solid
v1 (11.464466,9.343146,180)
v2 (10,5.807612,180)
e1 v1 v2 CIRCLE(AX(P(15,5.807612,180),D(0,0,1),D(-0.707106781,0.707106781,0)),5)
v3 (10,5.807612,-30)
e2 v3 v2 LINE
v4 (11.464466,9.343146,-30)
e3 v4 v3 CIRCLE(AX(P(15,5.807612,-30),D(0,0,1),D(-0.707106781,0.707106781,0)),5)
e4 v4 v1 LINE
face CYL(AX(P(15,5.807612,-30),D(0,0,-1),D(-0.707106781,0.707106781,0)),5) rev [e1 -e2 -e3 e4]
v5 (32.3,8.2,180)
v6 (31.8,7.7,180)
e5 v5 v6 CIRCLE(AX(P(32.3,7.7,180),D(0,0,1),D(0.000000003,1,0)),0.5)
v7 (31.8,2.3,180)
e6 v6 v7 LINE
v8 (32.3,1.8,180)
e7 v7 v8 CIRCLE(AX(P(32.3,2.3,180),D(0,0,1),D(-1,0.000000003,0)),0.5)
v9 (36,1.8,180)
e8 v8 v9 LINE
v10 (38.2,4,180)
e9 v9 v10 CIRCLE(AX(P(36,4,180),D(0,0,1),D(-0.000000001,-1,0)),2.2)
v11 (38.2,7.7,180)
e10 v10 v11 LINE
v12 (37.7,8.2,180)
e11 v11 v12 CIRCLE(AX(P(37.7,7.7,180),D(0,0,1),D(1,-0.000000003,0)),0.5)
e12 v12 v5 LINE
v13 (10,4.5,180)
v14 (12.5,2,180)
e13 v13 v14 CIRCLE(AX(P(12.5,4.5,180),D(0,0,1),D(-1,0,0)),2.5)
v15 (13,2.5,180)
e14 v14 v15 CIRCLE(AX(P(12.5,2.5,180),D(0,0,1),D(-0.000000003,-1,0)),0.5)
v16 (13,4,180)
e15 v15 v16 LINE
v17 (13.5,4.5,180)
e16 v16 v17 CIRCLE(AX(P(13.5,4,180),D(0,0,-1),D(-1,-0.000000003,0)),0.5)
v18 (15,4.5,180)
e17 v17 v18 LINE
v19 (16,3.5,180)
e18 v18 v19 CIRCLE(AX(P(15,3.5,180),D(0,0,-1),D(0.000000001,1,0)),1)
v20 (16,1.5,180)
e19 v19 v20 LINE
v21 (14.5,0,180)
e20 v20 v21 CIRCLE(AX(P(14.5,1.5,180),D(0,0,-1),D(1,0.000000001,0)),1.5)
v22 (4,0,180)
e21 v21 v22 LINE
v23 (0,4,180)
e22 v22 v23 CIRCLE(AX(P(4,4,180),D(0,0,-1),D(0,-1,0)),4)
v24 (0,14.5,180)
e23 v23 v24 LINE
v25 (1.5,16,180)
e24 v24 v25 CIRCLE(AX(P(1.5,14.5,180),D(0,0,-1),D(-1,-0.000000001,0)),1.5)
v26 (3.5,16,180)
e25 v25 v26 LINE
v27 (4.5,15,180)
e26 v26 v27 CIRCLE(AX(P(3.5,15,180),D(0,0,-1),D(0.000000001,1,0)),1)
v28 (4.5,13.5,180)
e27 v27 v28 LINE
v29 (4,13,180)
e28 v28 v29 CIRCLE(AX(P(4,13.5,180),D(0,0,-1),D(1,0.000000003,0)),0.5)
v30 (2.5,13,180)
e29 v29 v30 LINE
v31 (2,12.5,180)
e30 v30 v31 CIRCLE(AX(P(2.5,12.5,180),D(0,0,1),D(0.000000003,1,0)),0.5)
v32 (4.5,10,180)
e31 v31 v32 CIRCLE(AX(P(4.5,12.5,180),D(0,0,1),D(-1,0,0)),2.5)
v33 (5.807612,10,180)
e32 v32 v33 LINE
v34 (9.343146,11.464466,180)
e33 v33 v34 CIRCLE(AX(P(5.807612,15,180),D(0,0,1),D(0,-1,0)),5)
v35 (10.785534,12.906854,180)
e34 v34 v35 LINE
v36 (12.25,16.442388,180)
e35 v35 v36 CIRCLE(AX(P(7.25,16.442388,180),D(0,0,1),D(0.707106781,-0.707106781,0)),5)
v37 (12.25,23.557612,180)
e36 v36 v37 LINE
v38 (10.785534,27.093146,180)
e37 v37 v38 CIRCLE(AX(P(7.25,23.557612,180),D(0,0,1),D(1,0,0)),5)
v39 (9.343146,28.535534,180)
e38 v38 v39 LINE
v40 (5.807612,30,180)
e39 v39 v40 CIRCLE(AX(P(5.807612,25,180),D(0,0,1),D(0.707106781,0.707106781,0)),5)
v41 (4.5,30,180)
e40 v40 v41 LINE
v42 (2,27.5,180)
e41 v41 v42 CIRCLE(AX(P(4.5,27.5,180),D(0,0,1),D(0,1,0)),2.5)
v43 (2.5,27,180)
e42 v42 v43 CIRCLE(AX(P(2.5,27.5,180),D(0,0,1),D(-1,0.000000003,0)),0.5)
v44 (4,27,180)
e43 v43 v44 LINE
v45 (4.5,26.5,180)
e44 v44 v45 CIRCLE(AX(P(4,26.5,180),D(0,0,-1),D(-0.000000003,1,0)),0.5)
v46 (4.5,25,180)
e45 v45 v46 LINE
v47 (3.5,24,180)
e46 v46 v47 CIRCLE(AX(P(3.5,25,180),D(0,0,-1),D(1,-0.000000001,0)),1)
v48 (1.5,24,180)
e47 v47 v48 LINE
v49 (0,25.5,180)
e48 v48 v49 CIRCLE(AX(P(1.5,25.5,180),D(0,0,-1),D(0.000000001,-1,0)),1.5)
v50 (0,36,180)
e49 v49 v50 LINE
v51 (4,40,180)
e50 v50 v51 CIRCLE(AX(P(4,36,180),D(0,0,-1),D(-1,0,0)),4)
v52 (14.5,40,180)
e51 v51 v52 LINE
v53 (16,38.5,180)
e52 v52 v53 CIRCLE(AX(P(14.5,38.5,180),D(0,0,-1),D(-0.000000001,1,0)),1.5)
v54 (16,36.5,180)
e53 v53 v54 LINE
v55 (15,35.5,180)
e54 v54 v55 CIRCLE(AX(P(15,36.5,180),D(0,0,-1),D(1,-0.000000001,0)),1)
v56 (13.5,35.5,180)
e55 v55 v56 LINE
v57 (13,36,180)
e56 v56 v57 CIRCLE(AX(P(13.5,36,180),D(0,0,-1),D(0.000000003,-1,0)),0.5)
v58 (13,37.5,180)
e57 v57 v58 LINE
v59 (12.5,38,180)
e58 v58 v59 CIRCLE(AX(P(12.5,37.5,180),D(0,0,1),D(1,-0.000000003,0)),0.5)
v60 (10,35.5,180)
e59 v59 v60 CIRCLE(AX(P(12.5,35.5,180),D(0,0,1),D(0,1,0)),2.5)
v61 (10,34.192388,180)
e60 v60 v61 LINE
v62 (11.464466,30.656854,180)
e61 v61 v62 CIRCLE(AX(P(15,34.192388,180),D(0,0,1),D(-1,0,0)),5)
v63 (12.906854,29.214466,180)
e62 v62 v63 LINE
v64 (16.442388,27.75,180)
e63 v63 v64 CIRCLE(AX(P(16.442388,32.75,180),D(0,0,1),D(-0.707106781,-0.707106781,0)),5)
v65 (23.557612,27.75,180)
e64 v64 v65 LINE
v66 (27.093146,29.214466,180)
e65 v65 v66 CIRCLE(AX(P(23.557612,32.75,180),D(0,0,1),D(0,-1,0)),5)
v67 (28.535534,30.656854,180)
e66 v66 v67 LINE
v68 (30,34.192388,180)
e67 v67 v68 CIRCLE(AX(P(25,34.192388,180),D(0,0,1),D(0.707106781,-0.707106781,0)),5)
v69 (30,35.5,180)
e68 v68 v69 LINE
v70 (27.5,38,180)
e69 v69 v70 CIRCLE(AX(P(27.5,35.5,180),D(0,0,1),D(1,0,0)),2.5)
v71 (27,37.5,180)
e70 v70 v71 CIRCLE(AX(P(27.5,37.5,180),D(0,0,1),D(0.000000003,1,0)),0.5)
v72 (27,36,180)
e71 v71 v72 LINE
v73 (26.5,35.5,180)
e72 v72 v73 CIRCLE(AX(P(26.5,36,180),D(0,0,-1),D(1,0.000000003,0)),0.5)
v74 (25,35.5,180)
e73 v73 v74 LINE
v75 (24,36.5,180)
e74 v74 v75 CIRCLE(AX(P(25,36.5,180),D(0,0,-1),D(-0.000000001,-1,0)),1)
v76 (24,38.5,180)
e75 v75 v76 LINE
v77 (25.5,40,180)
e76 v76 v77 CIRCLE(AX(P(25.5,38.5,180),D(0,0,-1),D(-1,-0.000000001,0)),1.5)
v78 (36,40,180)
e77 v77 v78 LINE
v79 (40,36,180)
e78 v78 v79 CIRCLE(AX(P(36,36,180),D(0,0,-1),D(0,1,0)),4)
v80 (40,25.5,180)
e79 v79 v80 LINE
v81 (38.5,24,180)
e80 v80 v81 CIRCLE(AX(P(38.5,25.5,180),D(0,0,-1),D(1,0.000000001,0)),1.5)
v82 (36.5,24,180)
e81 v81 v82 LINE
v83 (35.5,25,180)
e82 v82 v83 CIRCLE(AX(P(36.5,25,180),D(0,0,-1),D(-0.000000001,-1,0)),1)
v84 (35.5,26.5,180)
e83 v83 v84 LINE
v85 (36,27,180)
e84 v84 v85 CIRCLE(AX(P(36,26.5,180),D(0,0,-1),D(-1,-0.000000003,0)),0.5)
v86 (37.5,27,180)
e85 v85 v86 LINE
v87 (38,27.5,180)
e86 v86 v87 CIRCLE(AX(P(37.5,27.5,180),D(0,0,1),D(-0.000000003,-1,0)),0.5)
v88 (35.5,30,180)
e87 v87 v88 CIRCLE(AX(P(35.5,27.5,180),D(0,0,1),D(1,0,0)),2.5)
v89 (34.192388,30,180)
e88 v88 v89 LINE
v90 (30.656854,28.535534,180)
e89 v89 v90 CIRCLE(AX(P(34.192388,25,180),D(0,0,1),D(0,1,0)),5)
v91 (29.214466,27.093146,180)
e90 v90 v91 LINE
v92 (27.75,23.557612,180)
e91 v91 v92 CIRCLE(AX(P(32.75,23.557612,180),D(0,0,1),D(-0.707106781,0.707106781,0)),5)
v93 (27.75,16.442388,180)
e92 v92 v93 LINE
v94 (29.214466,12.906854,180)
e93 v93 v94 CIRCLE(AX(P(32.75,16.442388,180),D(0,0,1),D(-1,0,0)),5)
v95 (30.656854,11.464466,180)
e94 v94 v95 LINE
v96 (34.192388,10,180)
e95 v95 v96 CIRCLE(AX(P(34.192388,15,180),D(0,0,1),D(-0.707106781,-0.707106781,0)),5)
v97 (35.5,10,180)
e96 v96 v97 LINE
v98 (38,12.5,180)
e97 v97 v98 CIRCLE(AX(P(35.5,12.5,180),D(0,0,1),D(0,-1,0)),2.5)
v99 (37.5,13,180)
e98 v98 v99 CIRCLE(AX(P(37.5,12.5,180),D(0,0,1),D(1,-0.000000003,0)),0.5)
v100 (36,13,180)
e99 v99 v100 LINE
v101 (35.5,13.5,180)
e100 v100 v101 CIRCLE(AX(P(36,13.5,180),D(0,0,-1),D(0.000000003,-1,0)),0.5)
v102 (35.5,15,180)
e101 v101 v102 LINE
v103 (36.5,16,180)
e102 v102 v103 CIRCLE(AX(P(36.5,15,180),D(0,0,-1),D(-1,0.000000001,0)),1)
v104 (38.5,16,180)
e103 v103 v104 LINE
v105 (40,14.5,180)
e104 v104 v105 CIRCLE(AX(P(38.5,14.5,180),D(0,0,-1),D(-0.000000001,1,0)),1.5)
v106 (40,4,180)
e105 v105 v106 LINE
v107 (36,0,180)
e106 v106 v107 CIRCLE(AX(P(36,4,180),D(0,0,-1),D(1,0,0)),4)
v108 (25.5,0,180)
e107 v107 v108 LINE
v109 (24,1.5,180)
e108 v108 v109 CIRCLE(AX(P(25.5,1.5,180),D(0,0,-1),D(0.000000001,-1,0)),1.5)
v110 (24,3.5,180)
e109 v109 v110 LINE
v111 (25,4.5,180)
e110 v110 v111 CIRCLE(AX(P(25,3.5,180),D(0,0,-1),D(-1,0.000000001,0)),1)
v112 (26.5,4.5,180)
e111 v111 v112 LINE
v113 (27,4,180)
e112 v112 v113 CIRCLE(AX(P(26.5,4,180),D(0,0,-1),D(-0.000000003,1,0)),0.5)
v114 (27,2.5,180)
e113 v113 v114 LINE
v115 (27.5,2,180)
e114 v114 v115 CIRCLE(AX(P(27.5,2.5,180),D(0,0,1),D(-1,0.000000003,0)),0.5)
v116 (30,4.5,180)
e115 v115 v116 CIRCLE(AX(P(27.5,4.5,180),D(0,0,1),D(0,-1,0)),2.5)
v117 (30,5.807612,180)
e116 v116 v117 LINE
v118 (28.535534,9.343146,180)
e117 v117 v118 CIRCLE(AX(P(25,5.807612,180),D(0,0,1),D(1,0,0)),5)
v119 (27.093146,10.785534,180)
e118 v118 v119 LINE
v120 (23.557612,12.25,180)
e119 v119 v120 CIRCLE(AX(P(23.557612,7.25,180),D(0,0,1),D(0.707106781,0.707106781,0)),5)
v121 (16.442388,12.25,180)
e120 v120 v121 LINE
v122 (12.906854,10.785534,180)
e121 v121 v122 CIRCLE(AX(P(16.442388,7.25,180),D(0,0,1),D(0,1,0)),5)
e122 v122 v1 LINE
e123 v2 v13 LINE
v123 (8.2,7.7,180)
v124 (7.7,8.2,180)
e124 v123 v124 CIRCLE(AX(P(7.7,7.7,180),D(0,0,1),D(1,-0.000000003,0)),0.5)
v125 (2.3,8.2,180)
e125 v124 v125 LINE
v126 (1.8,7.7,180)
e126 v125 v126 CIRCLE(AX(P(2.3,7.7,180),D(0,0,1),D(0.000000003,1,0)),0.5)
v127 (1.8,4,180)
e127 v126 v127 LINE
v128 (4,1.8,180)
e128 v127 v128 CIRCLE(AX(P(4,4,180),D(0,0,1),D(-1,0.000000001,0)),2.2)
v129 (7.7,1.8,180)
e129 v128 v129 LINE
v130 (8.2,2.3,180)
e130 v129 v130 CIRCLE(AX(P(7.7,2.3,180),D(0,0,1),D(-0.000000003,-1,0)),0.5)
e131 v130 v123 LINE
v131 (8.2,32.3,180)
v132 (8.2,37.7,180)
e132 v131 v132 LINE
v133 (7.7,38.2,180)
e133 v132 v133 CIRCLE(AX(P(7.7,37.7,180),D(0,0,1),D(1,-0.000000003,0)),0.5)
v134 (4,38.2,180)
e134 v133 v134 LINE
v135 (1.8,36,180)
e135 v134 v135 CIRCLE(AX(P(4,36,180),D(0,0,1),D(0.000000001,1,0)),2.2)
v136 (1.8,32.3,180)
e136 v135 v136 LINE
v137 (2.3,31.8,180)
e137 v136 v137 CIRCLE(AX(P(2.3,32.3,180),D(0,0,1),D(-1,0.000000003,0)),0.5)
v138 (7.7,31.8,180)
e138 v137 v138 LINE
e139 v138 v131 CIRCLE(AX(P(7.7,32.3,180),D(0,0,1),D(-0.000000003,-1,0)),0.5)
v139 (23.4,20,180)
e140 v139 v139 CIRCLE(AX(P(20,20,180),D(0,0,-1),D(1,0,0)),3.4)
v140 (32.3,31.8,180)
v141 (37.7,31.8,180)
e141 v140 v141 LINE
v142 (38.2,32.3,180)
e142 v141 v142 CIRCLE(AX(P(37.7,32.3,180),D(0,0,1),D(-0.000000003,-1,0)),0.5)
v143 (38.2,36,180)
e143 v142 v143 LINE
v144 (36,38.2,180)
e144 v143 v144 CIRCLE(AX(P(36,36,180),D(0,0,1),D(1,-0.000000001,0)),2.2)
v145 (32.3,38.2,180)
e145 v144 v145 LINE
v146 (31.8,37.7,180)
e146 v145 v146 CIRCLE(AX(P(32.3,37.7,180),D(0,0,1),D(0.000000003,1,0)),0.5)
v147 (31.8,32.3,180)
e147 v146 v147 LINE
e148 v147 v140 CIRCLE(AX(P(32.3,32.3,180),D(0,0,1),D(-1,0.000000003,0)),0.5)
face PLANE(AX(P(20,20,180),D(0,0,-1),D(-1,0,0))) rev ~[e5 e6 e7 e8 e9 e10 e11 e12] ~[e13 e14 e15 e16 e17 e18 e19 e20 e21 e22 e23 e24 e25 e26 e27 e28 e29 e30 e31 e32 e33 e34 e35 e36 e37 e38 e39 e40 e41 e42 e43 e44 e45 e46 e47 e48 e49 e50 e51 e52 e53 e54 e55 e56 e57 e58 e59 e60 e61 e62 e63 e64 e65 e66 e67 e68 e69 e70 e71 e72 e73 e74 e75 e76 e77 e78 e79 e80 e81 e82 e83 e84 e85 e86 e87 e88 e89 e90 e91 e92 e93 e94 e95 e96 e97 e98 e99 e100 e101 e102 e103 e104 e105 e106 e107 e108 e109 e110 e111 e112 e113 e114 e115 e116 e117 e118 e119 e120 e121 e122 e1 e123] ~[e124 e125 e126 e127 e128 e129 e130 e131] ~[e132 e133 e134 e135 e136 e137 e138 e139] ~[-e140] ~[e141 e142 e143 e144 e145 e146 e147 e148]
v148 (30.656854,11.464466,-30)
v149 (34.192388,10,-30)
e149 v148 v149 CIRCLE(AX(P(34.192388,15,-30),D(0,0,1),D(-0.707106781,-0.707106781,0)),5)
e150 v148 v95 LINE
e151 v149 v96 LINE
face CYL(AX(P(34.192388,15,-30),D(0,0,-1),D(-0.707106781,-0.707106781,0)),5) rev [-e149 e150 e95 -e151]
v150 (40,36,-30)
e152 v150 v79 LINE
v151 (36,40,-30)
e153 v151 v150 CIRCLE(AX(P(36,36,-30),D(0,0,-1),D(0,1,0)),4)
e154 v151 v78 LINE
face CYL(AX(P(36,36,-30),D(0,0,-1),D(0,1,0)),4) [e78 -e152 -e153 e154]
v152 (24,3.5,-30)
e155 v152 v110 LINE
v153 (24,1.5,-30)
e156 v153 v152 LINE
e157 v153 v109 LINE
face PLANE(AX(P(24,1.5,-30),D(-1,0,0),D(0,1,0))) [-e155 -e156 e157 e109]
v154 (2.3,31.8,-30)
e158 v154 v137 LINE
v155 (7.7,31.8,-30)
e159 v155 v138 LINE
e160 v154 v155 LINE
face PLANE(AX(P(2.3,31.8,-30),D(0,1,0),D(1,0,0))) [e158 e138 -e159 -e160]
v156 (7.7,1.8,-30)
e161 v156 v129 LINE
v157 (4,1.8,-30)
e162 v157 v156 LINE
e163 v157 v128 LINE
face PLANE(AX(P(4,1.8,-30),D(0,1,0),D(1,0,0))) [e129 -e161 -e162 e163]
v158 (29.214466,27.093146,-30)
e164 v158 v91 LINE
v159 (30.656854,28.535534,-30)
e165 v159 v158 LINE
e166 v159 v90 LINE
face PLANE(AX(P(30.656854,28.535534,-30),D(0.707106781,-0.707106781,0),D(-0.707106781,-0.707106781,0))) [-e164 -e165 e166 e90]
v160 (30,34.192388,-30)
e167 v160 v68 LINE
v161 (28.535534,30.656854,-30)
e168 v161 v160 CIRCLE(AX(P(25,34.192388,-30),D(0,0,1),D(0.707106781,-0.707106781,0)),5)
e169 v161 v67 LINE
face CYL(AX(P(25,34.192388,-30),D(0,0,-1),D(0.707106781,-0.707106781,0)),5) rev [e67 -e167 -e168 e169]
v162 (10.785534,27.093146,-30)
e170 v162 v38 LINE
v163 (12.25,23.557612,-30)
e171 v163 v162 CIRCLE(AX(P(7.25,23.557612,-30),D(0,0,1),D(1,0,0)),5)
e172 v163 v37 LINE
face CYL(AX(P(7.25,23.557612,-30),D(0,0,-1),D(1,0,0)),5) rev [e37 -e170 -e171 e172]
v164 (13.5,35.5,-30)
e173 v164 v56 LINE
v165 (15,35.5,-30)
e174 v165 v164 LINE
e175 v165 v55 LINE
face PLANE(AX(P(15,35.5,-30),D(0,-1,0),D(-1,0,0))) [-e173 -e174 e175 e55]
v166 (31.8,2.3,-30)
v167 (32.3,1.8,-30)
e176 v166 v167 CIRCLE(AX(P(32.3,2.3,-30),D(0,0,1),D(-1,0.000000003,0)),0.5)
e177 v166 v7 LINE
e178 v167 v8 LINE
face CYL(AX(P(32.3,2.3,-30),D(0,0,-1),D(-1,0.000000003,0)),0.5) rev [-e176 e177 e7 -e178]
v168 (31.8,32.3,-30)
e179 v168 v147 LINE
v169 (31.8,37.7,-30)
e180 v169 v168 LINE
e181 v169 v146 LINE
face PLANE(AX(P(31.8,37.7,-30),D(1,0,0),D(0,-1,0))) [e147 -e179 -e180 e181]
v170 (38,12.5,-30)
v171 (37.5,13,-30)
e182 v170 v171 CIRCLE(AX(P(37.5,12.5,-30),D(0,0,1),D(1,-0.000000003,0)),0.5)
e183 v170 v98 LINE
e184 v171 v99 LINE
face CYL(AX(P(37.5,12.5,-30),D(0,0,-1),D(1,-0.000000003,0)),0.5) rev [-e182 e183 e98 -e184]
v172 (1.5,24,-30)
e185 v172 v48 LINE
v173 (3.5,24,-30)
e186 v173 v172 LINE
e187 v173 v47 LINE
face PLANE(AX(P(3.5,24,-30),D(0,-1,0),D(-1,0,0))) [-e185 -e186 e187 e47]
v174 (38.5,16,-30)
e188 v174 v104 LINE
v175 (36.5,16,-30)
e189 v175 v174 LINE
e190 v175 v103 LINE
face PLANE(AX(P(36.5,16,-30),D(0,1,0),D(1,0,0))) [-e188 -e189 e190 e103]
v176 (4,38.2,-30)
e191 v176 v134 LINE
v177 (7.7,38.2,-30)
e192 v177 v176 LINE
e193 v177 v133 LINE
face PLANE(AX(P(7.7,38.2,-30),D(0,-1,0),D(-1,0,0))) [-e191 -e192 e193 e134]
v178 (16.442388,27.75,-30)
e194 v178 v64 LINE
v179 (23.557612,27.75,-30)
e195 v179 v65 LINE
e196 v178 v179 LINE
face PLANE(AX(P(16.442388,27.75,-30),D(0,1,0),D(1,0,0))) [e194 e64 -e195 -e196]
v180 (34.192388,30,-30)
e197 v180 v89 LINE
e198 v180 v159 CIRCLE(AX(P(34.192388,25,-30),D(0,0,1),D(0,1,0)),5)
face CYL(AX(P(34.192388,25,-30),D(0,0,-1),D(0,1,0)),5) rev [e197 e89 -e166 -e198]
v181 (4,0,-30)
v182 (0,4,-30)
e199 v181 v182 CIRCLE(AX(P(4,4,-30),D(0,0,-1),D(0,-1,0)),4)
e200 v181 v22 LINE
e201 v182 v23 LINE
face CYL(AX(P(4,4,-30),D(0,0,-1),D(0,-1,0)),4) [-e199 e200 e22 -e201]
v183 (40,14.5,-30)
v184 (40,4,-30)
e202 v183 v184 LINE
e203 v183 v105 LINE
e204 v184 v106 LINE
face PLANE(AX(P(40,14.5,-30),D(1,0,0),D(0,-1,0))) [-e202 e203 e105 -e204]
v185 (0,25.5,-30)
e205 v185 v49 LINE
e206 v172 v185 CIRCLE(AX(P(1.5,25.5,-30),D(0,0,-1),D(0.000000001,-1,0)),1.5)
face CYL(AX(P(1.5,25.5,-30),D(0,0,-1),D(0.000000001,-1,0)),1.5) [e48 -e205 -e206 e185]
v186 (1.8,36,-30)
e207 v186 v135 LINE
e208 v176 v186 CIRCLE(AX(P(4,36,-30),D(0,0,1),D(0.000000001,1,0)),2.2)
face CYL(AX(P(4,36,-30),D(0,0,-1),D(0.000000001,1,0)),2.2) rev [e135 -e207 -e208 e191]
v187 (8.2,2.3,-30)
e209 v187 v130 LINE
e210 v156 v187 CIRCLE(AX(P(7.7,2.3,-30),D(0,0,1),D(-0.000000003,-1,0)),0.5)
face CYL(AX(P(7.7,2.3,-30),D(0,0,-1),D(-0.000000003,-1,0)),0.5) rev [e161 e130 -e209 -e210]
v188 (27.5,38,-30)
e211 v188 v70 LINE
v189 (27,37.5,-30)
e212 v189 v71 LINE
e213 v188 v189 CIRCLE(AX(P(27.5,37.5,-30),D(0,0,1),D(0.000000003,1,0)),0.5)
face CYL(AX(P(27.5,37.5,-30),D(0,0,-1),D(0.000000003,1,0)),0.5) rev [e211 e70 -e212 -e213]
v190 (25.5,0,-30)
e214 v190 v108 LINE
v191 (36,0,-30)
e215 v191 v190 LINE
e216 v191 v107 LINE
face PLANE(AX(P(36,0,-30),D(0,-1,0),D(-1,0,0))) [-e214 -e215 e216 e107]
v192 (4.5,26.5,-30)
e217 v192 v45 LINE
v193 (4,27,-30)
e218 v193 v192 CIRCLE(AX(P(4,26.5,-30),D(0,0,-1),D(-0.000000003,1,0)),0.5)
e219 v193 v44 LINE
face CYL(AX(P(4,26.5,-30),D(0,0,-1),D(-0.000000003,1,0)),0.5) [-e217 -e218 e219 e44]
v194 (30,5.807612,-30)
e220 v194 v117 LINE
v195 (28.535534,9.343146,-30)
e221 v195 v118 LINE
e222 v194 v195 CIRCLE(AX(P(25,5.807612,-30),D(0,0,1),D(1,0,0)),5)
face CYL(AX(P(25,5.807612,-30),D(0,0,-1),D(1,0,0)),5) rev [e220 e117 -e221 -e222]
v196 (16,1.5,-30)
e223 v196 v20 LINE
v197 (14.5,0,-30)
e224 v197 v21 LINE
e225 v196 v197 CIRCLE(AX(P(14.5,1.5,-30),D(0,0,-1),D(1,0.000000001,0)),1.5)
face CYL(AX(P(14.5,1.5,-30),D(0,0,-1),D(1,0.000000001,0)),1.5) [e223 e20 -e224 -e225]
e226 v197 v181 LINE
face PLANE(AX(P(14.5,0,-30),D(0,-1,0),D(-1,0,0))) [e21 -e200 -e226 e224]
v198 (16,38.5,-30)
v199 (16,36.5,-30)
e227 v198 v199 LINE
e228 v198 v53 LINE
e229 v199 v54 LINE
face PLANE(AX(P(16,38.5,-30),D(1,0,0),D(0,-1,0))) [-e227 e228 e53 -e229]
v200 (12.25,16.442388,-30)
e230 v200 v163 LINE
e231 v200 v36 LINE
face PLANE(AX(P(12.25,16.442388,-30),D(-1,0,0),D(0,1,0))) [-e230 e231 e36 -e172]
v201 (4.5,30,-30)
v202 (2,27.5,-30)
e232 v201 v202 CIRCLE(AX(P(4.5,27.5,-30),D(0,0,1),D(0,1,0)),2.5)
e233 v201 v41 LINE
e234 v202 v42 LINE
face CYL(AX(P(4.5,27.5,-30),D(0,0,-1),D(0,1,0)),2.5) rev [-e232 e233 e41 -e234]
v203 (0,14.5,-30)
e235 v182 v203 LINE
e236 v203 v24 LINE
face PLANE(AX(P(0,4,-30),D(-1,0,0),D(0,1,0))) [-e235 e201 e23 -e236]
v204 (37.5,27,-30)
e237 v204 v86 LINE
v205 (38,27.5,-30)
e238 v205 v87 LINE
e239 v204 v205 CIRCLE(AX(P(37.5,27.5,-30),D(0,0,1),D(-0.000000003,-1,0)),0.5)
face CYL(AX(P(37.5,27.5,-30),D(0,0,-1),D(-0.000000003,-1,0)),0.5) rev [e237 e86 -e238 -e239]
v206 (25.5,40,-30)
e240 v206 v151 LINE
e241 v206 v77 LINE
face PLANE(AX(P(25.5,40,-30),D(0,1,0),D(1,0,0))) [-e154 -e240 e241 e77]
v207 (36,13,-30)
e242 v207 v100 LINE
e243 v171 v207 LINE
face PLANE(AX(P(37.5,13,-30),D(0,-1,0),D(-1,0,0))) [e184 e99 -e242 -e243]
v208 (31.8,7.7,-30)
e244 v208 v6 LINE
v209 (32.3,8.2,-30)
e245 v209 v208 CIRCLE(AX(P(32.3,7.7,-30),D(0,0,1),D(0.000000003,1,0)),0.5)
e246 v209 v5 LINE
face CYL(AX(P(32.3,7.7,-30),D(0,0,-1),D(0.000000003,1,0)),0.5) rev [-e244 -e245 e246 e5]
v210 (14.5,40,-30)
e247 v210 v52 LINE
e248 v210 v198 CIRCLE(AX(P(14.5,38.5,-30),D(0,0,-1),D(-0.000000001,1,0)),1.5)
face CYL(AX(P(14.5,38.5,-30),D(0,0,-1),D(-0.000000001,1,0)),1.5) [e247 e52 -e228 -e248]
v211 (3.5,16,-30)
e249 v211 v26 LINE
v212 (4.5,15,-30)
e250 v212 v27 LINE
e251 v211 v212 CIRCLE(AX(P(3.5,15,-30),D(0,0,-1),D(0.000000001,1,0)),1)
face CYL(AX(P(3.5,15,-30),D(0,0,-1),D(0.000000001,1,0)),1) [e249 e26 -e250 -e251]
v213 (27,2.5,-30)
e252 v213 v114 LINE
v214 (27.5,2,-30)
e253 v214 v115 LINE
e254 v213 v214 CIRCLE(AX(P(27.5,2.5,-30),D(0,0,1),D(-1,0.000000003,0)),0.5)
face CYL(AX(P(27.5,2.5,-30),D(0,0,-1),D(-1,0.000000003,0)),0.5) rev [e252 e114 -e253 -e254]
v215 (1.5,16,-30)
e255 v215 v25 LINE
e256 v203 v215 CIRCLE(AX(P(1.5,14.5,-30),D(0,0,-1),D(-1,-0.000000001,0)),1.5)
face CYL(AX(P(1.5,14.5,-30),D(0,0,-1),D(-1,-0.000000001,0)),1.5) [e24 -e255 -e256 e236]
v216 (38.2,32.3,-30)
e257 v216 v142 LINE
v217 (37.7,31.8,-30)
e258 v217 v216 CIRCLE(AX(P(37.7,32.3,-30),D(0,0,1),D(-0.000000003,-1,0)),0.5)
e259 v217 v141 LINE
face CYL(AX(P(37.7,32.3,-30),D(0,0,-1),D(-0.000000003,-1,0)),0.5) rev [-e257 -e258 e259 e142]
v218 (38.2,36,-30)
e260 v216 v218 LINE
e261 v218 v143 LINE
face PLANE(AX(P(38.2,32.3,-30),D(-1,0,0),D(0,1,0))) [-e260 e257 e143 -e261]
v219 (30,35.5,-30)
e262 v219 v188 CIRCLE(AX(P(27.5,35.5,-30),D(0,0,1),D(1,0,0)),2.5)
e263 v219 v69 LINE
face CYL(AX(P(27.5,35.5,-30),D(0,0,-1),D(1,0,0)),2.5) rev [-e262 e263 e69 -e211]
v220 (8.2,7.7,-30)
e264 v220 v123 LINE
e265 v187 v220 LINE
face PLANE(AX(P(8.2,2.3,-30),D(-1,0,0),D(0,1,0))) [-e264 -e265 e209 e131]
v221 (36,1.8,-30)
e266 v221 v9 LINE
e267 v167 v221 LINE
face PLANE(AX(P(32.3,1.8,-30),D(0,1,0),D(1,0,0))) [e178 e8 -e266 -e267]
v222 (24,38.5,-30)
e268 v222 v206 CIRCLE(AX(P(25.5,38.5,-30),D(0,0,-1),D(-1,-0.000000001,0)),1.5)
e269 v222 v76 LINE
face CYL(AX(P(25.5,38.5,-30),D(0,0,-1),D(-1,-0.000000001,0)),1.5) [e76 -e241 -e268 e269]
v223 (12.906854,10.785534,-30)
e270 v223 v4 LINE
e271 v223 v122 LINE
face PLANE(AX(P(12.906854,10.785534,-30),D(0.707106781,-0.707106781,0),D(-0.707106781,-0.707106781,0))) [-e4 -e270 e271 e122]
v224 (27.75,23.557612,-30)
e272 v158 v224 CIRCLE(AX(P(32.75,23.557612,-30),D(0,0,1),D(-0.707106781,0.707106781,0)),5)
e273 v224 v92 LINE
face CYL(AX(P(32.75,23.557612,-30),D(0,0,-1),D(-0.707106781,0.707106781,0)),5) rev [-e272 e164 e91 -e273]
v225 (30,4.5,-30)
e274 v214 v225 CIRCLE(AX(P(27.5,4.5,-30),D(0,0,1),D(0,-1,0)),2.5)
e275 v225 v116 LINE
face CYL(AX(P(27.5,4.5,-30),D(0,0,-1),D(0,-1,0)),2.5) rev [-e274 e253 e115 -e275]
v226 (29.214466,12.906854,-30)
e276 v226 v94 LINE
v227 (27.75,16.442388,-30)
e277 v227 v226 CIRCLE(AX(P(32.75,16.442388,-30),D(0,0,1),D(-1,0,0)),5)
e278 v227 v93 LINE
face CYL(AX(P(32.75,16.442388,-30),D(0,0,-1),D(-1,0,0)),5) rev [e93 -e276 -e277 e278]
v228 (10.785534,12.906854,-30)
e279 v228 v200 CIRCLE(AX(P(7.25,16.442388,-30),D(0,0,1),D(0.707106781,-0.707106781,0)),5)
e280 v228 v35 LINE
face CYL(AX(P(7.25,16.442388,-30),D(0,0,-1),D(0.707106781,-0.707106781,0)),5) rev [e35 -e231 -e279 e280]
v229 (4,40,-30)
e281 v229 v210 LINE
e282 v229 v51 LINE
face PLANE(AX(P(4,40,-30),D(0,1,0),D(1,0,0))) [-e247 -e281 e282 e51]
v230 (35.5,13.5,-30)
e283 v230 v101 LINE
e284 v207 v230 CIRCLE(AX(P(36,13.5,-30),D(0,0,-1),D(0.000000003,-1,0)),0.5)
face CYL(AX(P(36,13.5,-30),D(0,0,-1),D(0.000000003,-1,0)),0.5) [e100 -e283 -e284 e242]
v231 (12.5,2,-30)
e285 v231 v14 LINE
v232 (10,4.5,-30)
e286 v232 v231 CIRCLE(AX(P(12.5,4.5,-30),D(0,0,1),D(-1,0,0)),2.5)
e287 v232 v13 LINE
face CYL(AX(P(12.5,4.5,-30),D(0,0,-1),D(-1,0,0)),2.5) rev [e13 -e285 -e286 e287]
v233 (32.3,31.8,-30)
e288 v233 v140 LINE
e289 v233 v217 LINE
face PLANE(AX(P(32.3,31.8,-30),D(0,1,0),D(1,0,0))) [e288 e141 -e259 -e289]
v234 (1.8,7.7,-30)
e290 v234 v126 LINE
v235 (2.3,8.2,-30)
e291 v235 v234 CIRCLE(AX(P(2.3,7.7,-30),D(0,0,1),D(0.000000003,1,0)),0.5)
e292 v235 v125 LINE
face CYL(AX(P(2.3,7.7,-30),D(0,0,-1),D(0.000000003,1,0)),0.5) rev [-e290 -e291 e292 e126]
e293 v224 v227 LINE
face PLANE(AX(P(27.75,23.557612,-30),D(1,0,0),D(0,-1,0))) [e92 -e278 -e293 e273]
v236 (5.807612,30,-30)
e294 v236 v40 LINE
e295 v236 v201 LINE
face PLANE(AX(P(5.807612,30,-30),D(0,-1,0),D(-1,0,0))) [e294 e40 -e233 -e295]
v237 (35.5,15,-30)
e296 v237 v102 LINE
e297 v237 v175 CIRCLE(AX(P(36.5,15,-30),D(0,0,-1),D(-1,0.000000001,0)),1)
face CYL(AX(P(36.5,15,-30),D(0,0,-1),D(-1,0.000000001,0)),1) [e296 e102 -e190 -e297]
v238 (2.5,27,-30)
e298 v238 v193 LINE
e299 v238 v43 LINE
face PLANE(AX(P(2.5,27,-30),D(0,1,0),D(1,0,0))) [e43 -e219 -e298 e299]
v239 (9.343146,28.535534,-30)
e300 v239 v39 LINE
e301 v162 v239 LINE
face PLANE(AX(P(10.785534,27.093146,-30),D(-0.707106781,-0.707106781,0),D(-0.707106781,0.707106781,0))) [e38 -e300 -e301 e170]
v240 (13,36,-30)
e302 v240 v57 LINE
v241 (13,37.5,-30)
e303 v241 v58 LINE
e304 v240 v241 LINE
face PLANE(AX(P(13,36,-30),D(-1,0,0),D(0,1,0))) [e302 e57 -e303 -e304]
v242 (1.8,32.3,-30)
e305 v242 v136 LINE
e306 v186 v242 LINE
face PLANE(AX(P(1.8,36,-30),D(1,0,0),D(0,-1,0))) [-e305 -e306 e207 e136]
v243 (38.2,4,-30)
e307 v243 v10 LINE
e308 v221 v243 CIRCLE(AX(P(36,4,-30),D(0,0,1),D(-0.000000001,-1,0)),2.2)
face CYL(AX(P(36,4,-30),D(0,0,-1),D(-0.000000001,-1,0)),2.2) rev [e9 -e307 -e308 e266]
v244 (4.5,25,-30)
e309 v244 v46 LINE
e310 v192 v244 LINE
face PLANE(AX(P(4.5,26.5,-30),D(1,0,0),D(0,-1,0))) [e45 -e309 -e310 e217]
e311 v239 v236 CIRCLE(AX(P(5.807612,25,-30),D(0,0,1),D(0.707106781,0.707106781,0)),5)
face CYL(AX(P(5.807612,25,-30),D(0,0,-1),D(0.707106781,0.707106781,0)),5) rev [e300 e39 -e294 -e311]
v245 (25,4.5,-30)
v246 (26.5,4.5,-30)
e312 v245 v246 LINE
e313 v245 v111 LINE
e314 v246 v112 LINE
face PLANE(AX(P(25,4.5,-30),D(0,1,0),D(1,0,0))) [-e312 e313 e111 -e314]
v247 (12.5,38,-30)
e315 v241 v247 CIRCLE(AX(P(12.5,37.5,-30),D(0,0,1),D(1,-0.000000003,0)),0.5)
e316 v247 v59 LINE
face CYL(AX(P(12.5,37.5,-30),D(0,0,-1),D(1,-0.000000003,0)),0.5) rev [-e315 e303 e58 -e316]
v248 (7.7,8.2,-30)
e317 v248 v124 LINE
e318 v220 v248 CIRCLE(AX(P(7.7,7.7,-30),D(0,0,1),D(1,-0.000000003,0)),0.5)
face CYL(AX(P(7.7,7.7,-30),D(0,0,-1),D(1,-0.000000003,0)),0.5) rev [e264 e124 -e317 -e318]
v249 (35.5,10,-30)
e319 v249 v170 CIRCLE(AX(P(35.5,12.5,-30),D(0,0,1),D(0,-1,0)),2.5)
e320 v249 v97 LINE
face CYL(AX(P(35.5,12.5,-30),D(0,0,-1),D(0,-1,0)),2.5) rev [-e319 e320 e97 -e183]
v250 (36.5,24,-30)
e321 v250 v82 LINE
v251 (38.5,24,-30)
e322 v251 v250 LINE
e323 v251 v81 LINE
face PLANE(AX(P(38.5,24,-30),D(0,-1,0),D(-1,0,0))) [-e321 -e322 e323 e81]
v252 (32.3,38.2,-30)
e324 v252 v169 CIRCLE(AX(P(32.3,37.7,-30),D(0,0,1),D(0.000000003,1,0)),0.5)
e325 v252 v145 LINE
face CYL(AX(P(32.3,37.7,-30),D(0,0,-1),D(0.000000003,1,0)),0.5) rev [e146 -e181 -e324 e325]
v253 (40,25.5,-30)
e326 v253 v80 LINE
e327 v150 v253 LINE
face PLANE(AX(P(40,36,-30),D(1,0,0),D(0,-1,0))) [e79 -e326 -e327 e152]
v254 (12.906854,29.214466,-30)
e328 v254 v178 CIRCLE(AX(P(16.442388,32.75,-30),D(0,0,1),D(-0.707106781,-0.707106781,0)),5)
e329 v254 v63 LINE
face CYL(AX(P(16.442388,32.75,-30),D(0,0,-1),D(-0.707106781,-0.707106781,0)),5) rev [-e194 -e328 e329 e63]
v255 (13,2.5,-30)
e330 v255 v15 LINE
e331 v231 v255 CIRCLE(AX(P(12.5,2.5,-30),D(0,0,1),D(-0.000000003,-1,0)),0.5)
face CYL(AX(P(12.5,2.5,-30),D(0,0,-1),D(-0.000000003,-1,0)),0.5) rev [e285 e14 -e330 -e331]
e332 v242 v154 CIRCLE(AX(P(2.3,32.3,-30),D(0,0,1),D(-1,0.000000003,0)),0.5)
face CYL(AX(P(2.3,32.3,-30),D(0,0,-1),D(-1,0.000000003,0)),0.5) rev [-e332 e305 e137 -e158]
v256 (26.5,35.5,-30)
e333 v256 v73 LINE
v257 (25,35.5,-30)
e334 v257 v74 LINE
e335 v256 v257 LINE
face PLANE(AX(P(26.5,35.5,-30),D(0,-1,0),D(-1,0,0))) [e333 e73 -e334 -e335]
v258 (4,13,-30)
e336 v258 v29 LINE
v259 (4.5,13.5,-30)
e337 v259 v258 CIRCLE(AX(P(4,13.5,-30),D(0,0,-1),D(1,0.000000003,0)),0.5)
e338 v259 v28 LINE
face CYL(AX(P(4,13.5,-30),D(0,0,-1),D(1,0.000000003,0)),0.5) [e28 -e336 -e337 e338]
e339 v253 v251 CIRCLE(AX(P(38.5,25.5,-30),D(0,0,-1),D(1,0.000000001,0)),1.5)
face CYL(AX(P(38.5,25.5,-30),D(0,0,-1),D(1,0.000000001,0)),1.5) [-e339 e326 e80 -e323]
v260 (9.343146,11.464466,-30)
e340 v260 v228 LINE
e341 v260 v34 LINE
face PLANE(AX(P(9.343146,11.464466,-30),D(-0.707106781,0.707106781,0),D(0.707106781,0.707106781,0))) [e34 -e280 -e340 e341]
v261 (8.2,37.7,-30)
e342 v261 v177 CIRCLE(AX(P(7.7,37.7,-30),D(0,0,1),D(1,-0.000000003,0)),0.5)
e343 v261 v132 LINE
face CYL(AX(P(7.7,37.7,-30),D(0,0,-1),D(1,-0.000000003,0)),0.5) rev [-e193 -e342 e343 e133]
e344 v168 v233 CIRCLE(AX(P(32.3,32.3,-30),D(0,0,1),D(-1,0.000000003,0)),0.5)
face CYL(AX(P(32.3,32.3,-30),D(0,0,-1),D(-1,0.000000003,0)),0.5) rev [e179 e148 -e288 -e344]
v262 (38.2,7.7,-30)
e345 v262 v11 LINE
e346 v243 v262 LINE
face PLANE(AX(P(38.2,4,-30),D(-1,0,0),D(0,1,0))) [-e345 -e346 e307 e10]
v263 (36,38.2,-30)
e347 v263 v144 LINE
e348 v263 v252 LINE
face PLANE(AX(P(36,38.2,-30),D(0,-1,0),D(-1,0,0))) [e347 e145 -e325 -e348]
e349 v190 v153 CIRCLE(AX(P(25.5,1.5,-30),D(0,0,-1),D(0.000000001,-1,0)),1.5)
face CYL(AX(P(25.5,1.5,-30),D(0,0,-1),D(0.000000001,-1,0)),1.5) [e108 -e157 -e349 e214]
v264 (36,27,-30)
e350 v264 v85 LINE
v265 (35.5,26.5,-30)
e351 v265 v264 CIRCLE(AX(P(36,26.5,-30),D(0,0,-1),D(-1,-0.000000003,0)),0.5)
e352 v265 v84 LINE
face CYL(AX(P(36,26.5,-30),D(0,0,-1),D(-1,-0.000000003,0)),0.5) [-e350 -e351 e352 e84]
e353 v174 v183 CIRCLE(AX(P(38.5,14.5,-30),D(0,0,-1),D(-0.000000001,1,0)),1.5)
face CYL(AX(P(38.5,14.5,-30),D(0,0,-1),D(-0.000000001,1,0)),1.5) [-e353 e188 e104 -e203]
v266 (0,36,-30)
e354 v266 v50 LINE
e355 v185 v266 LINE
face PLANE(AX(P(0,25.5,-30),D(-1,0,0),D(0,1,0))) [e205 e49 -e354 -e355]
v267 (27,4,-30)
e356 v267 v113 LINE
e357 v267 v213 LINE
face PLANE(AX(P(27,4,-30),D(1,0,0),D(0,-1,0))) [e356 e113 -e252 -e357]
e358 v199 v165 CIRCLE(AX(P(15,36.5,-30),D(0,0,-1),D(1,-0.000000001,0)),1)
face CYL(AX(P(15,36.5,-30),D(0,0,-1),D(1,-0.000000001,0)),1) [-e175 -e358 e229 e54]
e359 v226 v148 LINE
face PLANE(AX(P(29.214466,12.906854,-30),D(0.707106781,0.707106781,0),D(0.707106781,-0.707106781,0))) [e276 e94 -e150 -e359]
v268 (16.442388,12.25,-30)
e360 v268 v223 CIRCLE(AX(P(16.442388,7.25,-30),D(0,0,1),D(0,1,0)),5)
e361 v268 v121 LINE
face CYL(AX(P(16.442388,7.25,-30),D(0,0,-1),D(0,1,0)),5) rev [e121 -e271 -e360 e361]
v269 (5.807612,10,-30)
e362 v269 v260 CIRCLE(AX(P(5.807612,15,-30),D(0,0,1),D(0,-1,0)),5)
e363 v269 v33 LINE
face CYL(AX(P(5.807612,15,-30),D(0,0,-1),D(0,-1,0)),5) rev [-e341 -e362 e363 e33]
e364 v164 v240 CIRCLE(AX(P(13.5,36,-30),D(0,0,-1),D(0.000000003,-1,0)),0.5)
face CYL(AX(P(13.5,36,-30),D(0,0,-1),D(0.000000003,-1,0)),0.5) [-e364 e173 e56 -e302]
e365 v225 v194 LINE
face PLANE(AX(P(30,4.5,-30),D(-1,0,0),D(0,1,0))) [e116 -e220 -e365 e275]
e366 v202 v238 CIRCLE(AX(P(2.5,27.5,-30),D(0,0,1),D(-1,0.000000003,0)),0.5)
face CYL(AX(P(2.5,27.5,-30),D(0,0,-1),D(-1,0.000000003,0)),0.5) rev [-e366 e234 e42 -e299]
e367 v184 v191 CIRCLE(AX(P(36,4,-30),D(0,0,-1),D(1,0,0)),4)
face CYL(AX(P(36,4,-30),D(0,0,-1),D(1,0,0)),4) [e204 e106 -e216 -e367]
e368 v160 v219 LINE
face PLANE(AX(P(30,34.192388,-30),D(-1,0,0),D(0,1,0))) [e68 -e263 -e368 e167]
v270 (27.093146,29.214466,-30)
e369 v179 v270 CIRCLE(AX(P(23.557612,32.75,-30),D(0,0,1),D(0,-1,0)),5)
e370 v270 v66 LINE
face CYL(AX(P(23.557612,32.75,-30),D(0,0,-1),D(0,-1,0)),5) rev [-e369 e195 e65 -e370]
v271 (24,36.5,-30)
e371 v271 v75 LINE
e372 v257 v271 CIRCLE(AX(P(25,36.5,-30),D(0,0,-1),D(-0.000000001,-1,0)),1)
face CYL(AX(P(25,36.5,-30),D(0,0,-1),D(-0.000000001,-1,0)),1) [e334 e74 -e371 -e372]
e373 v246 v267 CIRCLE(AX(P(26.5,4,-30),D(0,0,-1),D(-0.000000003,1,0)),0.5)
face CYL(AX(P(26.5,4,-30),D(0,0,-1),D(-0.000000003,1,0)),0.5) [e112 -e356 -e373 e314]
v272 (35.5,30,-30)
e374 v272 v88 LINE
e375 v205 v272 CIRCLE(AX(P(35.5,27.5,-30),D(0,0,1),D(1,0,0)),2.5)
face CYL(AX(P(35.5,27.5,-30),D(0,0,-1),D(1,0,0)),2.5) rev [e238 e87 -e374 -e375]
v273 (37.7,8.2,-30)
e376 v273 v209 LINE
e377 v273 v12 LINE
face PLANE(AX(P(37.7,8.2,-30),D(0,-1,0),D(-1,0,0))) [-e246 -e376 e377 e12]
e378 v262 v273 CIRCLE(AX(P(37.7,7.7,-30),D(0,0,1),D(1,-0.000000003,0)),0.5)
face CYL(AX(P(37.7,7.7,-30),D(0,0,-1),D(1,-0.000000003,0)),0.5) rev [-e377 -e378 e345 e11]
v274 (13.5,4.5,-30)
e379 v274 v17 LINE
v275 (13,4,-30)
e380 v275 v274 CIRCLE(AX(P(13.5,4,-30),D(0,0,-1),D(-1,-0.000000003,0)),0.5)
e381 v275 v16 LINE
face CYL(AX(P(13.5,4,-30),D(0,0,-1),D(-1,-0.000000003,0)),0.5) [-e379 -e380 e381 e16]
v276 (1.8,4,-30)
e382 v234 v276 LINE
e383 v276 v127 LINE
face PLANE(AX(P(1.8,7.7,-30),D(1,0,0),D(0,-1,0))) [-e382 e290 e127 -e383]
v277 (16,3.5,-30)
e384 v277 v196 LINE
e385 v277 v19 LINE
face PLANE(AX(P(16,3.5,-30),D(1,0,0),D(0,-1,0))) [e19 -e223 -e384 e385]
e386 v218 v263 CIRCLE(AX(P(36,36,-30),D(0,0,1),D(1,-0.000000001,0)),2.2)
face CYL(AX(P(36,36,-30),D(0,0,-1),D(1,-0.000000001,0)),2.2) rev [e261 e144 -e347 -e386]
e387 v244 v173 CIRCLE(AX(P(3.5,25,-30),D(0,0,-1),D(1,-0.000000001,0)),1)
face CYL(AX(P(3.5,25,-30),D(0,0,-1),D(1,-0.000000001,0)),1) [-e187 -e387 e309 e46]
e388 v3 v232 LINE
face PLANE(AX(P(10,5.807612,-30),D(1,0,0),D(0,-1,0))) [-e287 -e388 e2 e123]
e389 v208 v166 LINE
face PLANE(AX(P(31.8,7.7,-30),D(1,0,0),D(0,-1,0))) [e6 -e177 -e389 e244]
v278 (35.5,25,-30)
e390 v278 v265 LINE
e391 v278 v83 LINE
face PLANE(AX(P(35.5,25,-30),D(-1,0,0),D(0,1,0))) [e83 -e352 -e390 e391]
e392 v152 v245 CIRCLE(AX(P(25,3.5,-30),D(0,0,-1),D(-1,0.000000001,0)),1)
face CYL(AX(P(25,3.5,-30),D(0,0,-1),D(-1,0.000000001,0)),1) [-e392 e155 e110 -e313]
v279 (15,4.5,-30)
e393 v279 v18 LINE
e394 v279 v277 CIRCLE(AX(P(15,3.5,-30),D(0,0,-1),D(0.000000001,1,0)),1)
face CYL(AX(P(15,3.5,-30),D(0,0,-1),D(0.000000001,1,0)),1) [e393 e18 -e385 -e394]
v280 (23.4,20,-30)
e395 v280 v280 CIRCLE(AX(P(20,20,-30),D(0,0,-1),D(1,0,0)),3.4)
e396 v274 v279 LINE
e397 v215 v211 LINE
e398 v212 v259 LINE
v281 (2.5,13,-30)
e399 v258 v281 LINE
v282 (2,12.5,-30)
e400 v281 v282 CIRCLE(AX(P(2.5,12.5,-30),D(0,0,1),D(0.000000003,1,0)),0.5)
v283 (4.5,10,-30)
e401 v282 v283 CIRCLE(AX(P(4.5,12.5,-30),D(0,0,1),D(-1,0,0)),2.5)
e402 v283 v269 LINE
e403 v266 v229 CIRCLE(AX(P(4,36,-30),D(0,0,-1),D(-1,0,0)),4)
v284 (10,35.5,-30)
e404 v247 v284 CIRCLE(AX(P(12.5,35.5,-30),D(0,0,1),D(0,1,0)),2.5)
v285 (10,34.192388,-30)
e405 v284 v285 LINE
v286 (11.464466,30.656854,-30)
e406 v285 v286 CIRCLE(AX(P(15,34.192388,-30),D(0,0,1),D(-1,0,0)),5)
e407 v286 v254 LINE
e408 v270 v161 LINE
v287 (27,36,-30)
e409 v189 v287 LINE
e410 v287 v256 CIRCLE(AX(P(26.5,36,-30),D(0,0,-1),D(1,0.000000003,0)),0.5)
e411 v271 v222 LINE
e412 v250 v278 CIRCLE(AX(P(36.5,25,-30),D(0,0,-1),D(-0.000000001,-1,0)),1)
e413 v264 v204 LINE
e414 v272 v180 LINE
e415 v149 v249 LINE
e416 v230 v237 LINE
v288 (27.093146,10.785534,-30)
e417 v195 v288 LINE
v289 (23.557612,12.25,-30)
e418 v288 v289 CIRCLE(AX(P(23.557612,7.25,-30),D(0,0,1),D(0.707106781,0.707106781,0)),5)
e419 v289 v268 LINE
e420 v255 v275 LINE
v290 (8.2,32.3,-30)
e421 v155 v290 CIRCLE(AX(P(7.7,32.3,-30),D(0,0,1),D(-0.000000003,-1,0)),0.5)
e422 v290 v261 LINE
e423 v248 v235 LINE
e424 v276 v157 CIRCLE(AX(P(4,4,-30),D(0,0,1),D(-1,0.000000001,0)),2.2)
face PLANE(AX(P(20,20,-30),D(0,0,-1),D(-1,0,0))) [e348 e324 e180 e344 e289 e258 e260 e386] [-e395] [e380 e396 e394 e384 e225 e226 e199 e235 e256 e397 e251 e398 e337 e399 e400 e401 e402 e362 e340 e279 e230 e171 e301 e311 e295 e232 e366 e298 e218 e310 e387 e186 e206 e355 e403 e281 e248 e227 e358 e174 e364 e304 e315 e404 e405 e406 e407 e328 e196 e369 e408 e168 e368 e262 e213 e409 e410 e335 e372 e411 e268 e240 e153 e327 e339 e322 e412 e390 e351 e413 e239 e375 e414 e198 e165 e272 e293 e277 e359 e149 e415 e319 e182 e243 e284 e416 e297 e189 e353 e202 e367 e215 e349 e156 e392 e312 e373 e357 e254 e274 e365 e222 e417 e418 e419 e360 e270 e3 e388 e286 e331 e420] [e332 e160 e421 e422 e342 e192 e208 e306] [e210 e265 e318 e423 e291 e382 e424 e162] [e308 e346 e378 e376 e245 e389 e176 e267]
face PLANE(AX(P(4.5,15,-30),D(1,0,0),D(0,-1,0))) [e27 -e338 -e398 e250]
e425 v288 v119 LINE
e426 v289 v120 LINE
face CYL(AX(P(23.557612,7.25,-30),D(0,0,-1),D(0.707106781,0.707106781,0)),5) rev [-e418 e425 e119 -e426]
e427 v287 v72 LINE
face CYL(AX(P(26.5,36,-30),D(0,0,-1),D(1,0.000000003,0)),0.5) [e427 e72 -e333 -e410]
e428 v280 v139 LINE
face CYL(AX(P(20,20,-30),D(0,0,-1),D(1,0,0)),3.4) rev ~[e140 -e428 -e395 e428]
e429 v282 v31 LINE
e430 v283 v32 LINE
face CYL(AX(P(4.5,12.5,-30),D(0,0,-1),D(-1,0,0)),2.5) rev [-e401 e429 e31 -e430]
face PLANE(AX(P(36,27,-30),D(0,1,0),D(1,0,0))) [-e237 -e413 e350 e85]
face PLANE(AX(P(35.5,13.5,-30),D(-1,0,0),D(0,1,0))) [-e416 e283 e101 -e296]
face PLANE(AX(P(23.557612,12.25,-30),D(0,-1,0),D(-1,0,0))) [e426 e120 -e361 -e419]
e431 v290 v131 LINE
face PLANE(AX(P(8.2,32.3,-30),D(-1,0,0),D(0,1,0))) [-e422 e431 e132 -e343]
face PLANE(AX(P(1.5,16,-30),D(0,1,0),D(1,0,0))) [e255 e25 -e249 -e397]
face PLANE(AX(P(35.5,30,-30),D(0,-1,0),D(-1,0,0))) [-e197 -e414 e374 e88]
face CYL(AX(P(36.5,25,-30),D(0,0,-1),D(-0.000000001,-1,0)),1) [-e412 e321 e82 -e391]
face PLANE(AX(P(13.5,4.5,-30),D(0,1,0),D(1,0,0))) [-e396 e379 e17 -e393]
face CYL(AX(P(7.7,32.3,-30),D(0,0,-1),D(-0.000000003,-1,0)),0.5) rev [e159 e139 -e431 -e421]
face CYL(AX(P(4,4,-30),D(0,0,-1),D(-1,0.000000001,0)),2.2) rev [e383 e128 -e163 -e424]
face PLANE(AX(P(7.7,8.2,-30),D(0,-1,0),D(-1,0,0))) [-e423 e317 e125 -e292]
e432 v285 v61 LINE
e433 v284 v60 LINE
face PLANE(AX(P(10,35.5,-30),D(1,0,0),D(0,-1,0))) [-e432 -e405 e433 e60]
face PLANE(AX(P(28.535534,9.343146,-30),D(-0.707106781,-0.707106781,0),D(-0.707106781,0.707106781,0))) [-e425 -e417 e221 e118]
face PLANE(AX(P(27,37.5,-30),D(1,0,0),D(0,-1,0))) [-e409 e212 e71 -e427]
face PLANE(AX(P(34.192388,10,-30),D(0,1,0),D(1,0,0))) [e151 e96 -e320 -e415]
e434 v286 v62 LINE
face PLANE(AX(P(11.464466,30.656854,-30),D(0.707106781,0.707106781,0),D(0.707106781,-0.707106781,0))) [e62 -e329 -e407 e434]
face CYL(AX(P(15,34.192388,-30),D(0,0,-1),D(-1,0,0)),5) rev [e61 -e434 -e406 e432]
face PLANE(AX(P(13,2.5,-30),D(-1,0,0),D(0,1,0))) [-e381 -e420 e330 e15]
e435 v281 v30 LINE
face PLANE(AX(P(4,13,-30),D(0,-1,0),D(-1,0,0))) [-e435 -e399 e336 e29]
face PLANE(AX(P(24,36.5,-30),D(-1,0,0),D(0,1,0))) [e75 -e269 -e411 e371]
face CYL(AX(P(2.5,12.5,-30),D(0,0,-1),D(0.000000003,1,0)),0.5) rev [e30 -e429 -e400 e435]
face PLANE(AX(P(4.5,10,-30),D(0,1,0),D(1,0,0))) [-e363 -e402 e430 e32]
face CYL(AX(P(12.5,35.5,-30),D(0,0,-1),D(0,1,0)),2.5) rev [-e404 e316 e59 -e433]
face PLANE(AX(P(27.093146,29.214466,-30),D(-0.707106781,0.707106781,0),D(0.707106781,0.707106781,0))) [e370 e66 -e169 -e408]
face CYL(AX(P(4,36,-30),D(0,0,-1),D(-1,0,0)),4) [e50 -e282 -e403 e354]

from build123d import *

# Parameters (mm, degrees)
ESQUISSE1_R        = 3.4
BOSS_EXTRU_1_DEPTH = 210


with BuildPart() as part:
    # Esquisse1 → Boss.-Extru.1 (new body)
    with BuildSketch(Plane(origin=(0, 0, -30), x_dir=(-1, 0, 0), z_dir=(0, 0, -1))):
        with BuildLine():
            Line((-4.5, 15), (-4.5, 13.5))
            ThreePointArc((-4.5, 13.5), (-4.353553391, 13.146446609), (-4, 13))
            Line((-4, 13), (-2.5, 13))
            ThreePointArc((-2.5, 13), (-2.146446609, 12.853553391), (-2, 12.5))
            ThreePointArc((-2, 12.5), (-2.732233047, 10.732233047), (-4.5, 10))
            Line((-4.5, 10), (-5.807611845, 10))
            ThreePointArc((-5.807611845, 10), (-7.721029006, 10.380602337), (-9.343145751, 11.464466094))
            Line((-9.343145751, 11.464466094), (-10.785533906, 12.906854249))
            ThreePointArc((-10.785533906, 12.906854249), (-11.869397663, 14.528970994), (-12.25, 16.442388155))
            Line((-12.25, 16.442388155), (-12.25, 23.557611845))
            ThreePointArc((-12.25, 23.557611845), (-11.869397663, 25.471029006), (-10.785533906, 27.093145751))
            Line((-10.785533906, 27.093145751), (-9.343145751, 28.535533906))
            ThreePointArc((-9.343145751, 28.535533906), (-7.721029006, 29.619397663), (-5.807611845, 30))
            Line((-5.807611845, 30), (-4.5, 30))
            ThreePointArc((-4.5, 30), (-2.732233047, 29.267766953), (-2, 27.5))
            ThreePointArc((-2, 27.5), (-2.146446609, 27.146446609), (-2.5, 27))
            Line((-2.5, 27), (-4, 27))
            ThreePointArc((-4, 27), (-4.353553391, 26.853553391), (-4.5, 26.5))
            Line((-4.5, 26.5), (-4.5, 25))
            ThreePointArc((-4.5, 25), (-4.207106781, 24.292893219), (-3.5, 24))
            Line((-3.5, 24), (-1.5, 24))
            ThreePointArc((-1.5, 24), (-0.439339828, 24.439339828), (0, 25.5))
            Line((0, 25.5), (0, 36))
            ThreePointArc((0, 36), (-1.171572875, 38.828427125), (-4, 40))
            Line((-4, 40), (-14.5, 40))
            ThreePointArc((-14.5, 40), (-15.560660172, 39.560660172), (-16, 38.5))
            Line((-16, 38.5), (-16, 36.5))
            ThreePointArc((-16, 36.5), (-15.707106781, 35.792893219), (-15, 35.5))
            Line((-15, 35.5), (-13.5, 35.5))
            ThreePointArc((-13.5, 35.5), (-13.146446609, 35.646446609), (-13, 36))
            Line((-13, 36), (-13, 37.5))
            ThreePointArc((-13, 37.5), (-12.853553391, 37.853553391), (-12.5, 38))
            ThreePointArc((-12.5, 38), (-10.732233047, 37.267766953), (-10, 35.5))
            Line((-10, 35.5), (-10, 34.192388155))
            ThreePointArc((-10, 34.192388155), (-10.380602337, 32.278970994), (-11.464466094, 30.656854249))
            Line((-11.464466094, 30.656854249), (-12.906854249, 29.214466094))
            ThreePointArc((-12.906854249, 29.214466094), (-14.528970994, 28.130602337), (-16.442388155, 27.75))
            Line((-16.442388155, 27.75), (-23.557611845, 27.75))
            ThreePointArc((-23.557611845, 27.75), (-25.471029006, 28.130602337), (-27.093145751, 29.214466094))
            Line((-27.093145751, 29.214466094), (-28.535533906, 30.656854249))
            ThreePointArc((-28.535533906, 30.656854249), (-29.619397663, 32.278970994), (-30, 34.192388155))
            Line((-30, 34.192388155), (-30, 35.5))
            ThreePointArc((-30, 35.5), (-29.267766953, 37.267766953), (-27.5, 38))
            ThreePointArc((-27.5, 38), (-27.146446609, 37.853553391), (-27, 37.5))
            Line((-27, 37.5), (-27, 36))
            ThreePointArc((-27, 36), (-26.853553391, 35.646446609), (-26.5, 35.5))
            Line((-26.5, 35.5), (-25, 35.5))
            ThreePointArc((-25, 35.5), (-24.292893219, 35.792893219), (-24, 36.5))
            Line((-24, 36.5), (-24, 38.5))
            ThreePointArc((-24, 38.5), (-24.439339828, 39.560660172), (-25.5, 40))
            Line((-25.5, 40), (-36, 40))
            ThreePointArc((-36, 40), (-38.828427125, 38.828427125), (-40, 36))
            Line((-40, 36), (-40, 25.5))
            ThreePointArc((-40, 25.5), (-39.560660172, 24.439339828), (-38.5, 24))
            Line((-38.5, 24), (-36.5, 24))
            ThreePointArc((-36.5, 24), (-35.792893219, 24.292893219), (-35.5, 25))
            Line((-35.5, 25), (-35.5, 26.5))
            ThreePointArc((-35.5, 26.5), (-35.646446609, 26.853553391), (-36, 27))
            Line((-36, 27), (-37.5, 27))
            ThreePointArc((-37.5, 27), (-37.853553391, 27.146446609), (-38, 27.5))
            ThreePointArc((-38, 27.5), (-37.267766953, 29.267766953), (-35.5, 30))
            Line((-35.5, 30), (-34.192388155, 30))
            ThreePointArc((-34.192388155, 30), (-32.278970994, 29.619397663), (-30.656854249, 28.535533906))
            Line((-30.656854249, 28.535533906), (-29.214466094, 27.093145751))
            ThreePointArc((-29.214466094, 27.093145751), (-28.130602337, 25.471029006), (-27.75, 23.557611845))
            Line((-27.75, 23.557611845), (-27.75, 16.442388155))
            ThreePointArc((-27.75, 16.442388155), (-28.130602337, 14.528970994), (-29.214466094, 12.906854249))
            Line((-29.214466094, 12.906854249), (-30.656854249, 11.464466094))
            ThreePointArc((-30.656854249, 11.464466094), (-32.278970994, 10.380602337), (-34.192388155, 10))
            Line((-34.192388155, 10), (-35.5, 10))
            ThreePointArc((-35.5, 10), (-37.267766953, 10.732233047), (-38, 12.5))
            ThreePointArc((-38, 12.5), (-37.853553391, 12.853553391), (-37.5, 13))
            Line((-37.5, 13), (-36, 13))
            ThreePointArc((-36, 13), (-35.646446609, 13.146446609), (-35.5, 13.5))
            Line((-35.5, 13.5), (-35.5, 15))
            ThreePointArc((-35.5, 15), (-35.792893219, 15.707106781), (-36.5, 16))
            Line((-36.5, 16), (-38.5, 16))
            ThreePointArc((-38.5, 16), (-39.560660172, 15.560660172), (-40, 14.5))
            Line((-40, 14.5), (-40, 4))
            ThreePointArc((-40, 4), (-38.828427125, 1.171572875), (-36, 0))
            Line((-36, 0), (-25.5, 0))
            ThreePointArc((-25.5, 0), (-24.439339828, 0.439339828), (-24, 1.5))
            Line((-24, 1.5), (-24, 3.5))
            ThreePointArc((-24, 3.5), (-24.292893219, 4.207106781), (-25, 4.5))
            Line((-25, 4.5), (-26.5, 4.5))
            ThreePointArc((-26.5, 4.5), (-26.853553391, 4.353553391), (-27, 4))
            Line((-27, 4), (-27, 2.5))
            ThreePointArc((-27, 2.5), (-27.146446609, 2.146446609), (-27.5, 2))
            ThreePointArc((-27.5, 2), (-29.267766953, 2.732233047), (-30, 4.5))
            Line((-30, 4.5), (-30, 5.807611845))
            ThreePointArc((-30, 5.807611845), (-29.619397663, 7.721029006), (-28.535533906, 9.343145751))
            Line((-28.535533906, 9.343145751), (-27.093145751, 10.785533906))
            ThreePointArc((-27.093145751, 10.785533906), (-25.471029006, 11.869397663), (-23.557611845, 12.25))
            Line((-23.557611845, 12.25), (-16.442388155, 12.25))
            ThreePointArc((-16.442388155, 12.25), (-14.528970994, 11.869397663), (-12.906854249, 10.785533906))
            Line((-12.906854249, 10.785533906), (-11.464466094, 9.343145751))
            ThreePointArc((-11.464466094, 9.343145751), (-10.380602337, 7.721029006), (-10, 5.807611845))
            Line((-10, 5.807611845), (-10, 4.5))
            ThreePointArc((-10, 4.5), (-10.732233047, 2.732233047), (-12.5, 2))
            ThreePointArc((-12.5, 2), (-12.853553391, 2.146446609), (-13, 2.5))
            Line((-13, 2.5), (-13, 4))
            ThreePointArc((-13, 4), (-13.146446609, 4.353553391), (-13.5, 4.5))
            Line((-13.5, 4.5), (-15, 4.5))
            ThreePointArc((-15, 4.5), (-15.707106781, 4.207106781), (-16, 3.5))
            Line((-16, 3.5), (-16, 1.5))
            ThreePointArc((-16, 1.5), (-15.560660172, 0.439339828), (-14.5, 0))
            Line((-14.5, 0), (-4, 0))
            ThreePointArc((-4, 0), (-1.171572875, 1.171572875), (0, 4))
            Line((0, 4), (0, 14.5))
            ThreePointArc((0, 14.5), (-0.439339828, 15.560660172), (-1.5, 16))
            Line((-1.5, 16), (-3.5, 16))
            ThreePointArc((-3.5, 16), (-4.207106781, 15.707106781), (-4.5, 15))
        make_face()
        with Locations(Location((-20, 20, 0), (0, 0, 180))):
            Circle(ESQUISSE1_R, mode=Mode.SUBTRACT)
        with BuildLine():
            Line((-4, 1.8), (-7.7, 1.8))
            ThreePointArc((-7.7, 1.8), (-8.053553391, 1.946446609), (-8.2, 2.3))
            Line((-8.2, 2.3), (-8.2, 7.7))
            ThreePointArc((-8.2, 7.7), (-8.053553391, 8.053553391), (-7.7, 8.2))
            Line((-7.7, 8.2), (-2.3, 8.2))
            ThreePointArc((-2.3, 8.2), (-1.946446609, 8.053553391), (-1.8, 7.7))
            Line((-1.8, 7.7), (-1.8, 4))
            ThreePointArc((-1.8, 4), (-2.444365081, 2.444365081), (-4, 1.8))
        make_face(mode=Mode.SUBTRACT)
        with BuildLine():
            Line((-38.2, 4), (-38.2, 7.7))
            ThreePointArc((-38.2, 7.7), (-38.053553391, 8.053553391), (-37.7, 8.2))
            Line((-37.7, 8.2), (-32.3, 8.2))
            ThreePointArc((-32.3, 8.2), (-31.946446609, 8.053553391), (-31.8, 7.7))
            Line((-31.8, 7.7), (-31.8, 2.3))
            ThreePointArc((-31.8, 2.3), (-31.946446609, 1.946446609), (-32.3, 1.8))
            Line((-32.3, 1.8), (-36, 1.8))
            ThreePointArc((-36, 1.8), (-37.555634919, 2.444365081), (-38.2, 4))
        make_face(mode=Mode.SUBTRACT)
        with BuildLine():
            Line((-36, 38.2), (-32.3, 38.2))
            ThreePointArc((-32.3, 38.2), (-31.946446609, 38.053553391), (-31.8, 37.7))
            Line((-31.8, 37.7), (-31.8, 32.3))
            ThreePointArc((-31.8, 32.3), (-31.946446609, 31.946446609), (-32.3, 31.8))
            Line((-32.3, 31.8), (-37.7, 31.8))
            ThreePointArc((-37.7, 31.8), (-38.053553391, 31.946446609), (-38.2, 32.3))
            Line((-38.2, 32.3), (-38.2, 36))
            ThreePointArc((-38.2, 36), (-37.555634919, 37.555634919), (-36, 38.2))
        make_face(mode=Mode.SUBTRACT)
        with BuildLine():
            Line((-1.8, 36), (-1.8, 32.3))
            ThreePointArc((-1.8, 32.3), (-1.946446609, 31.946446609), (-2.3, 31.8))
            Line((-2.3, 31.8), (-7.7, 31.8))
            ThreePointArc((-7.7, 31.8), (-8.053553391, 31.946446609), (-8.2, 32.3))
            Line((-8.2, 32.3), (-8.2, 37.7))
            ThreePointArc((-8.2, 37.7), (-8.053553391, 38.053553391), (-7.7, 38.2))
            Line((-7.7, 38.2), (-4, 38.2))
            ThreePointArc((-4, 38.2), (-2.444365081, 37.555634919), (-1.8, 36))
        make_face(mode=Mode.SUBTRACT)
    extrude(amount=-BOSS_EXTRU_1_DEPTH)


solid = part.part
